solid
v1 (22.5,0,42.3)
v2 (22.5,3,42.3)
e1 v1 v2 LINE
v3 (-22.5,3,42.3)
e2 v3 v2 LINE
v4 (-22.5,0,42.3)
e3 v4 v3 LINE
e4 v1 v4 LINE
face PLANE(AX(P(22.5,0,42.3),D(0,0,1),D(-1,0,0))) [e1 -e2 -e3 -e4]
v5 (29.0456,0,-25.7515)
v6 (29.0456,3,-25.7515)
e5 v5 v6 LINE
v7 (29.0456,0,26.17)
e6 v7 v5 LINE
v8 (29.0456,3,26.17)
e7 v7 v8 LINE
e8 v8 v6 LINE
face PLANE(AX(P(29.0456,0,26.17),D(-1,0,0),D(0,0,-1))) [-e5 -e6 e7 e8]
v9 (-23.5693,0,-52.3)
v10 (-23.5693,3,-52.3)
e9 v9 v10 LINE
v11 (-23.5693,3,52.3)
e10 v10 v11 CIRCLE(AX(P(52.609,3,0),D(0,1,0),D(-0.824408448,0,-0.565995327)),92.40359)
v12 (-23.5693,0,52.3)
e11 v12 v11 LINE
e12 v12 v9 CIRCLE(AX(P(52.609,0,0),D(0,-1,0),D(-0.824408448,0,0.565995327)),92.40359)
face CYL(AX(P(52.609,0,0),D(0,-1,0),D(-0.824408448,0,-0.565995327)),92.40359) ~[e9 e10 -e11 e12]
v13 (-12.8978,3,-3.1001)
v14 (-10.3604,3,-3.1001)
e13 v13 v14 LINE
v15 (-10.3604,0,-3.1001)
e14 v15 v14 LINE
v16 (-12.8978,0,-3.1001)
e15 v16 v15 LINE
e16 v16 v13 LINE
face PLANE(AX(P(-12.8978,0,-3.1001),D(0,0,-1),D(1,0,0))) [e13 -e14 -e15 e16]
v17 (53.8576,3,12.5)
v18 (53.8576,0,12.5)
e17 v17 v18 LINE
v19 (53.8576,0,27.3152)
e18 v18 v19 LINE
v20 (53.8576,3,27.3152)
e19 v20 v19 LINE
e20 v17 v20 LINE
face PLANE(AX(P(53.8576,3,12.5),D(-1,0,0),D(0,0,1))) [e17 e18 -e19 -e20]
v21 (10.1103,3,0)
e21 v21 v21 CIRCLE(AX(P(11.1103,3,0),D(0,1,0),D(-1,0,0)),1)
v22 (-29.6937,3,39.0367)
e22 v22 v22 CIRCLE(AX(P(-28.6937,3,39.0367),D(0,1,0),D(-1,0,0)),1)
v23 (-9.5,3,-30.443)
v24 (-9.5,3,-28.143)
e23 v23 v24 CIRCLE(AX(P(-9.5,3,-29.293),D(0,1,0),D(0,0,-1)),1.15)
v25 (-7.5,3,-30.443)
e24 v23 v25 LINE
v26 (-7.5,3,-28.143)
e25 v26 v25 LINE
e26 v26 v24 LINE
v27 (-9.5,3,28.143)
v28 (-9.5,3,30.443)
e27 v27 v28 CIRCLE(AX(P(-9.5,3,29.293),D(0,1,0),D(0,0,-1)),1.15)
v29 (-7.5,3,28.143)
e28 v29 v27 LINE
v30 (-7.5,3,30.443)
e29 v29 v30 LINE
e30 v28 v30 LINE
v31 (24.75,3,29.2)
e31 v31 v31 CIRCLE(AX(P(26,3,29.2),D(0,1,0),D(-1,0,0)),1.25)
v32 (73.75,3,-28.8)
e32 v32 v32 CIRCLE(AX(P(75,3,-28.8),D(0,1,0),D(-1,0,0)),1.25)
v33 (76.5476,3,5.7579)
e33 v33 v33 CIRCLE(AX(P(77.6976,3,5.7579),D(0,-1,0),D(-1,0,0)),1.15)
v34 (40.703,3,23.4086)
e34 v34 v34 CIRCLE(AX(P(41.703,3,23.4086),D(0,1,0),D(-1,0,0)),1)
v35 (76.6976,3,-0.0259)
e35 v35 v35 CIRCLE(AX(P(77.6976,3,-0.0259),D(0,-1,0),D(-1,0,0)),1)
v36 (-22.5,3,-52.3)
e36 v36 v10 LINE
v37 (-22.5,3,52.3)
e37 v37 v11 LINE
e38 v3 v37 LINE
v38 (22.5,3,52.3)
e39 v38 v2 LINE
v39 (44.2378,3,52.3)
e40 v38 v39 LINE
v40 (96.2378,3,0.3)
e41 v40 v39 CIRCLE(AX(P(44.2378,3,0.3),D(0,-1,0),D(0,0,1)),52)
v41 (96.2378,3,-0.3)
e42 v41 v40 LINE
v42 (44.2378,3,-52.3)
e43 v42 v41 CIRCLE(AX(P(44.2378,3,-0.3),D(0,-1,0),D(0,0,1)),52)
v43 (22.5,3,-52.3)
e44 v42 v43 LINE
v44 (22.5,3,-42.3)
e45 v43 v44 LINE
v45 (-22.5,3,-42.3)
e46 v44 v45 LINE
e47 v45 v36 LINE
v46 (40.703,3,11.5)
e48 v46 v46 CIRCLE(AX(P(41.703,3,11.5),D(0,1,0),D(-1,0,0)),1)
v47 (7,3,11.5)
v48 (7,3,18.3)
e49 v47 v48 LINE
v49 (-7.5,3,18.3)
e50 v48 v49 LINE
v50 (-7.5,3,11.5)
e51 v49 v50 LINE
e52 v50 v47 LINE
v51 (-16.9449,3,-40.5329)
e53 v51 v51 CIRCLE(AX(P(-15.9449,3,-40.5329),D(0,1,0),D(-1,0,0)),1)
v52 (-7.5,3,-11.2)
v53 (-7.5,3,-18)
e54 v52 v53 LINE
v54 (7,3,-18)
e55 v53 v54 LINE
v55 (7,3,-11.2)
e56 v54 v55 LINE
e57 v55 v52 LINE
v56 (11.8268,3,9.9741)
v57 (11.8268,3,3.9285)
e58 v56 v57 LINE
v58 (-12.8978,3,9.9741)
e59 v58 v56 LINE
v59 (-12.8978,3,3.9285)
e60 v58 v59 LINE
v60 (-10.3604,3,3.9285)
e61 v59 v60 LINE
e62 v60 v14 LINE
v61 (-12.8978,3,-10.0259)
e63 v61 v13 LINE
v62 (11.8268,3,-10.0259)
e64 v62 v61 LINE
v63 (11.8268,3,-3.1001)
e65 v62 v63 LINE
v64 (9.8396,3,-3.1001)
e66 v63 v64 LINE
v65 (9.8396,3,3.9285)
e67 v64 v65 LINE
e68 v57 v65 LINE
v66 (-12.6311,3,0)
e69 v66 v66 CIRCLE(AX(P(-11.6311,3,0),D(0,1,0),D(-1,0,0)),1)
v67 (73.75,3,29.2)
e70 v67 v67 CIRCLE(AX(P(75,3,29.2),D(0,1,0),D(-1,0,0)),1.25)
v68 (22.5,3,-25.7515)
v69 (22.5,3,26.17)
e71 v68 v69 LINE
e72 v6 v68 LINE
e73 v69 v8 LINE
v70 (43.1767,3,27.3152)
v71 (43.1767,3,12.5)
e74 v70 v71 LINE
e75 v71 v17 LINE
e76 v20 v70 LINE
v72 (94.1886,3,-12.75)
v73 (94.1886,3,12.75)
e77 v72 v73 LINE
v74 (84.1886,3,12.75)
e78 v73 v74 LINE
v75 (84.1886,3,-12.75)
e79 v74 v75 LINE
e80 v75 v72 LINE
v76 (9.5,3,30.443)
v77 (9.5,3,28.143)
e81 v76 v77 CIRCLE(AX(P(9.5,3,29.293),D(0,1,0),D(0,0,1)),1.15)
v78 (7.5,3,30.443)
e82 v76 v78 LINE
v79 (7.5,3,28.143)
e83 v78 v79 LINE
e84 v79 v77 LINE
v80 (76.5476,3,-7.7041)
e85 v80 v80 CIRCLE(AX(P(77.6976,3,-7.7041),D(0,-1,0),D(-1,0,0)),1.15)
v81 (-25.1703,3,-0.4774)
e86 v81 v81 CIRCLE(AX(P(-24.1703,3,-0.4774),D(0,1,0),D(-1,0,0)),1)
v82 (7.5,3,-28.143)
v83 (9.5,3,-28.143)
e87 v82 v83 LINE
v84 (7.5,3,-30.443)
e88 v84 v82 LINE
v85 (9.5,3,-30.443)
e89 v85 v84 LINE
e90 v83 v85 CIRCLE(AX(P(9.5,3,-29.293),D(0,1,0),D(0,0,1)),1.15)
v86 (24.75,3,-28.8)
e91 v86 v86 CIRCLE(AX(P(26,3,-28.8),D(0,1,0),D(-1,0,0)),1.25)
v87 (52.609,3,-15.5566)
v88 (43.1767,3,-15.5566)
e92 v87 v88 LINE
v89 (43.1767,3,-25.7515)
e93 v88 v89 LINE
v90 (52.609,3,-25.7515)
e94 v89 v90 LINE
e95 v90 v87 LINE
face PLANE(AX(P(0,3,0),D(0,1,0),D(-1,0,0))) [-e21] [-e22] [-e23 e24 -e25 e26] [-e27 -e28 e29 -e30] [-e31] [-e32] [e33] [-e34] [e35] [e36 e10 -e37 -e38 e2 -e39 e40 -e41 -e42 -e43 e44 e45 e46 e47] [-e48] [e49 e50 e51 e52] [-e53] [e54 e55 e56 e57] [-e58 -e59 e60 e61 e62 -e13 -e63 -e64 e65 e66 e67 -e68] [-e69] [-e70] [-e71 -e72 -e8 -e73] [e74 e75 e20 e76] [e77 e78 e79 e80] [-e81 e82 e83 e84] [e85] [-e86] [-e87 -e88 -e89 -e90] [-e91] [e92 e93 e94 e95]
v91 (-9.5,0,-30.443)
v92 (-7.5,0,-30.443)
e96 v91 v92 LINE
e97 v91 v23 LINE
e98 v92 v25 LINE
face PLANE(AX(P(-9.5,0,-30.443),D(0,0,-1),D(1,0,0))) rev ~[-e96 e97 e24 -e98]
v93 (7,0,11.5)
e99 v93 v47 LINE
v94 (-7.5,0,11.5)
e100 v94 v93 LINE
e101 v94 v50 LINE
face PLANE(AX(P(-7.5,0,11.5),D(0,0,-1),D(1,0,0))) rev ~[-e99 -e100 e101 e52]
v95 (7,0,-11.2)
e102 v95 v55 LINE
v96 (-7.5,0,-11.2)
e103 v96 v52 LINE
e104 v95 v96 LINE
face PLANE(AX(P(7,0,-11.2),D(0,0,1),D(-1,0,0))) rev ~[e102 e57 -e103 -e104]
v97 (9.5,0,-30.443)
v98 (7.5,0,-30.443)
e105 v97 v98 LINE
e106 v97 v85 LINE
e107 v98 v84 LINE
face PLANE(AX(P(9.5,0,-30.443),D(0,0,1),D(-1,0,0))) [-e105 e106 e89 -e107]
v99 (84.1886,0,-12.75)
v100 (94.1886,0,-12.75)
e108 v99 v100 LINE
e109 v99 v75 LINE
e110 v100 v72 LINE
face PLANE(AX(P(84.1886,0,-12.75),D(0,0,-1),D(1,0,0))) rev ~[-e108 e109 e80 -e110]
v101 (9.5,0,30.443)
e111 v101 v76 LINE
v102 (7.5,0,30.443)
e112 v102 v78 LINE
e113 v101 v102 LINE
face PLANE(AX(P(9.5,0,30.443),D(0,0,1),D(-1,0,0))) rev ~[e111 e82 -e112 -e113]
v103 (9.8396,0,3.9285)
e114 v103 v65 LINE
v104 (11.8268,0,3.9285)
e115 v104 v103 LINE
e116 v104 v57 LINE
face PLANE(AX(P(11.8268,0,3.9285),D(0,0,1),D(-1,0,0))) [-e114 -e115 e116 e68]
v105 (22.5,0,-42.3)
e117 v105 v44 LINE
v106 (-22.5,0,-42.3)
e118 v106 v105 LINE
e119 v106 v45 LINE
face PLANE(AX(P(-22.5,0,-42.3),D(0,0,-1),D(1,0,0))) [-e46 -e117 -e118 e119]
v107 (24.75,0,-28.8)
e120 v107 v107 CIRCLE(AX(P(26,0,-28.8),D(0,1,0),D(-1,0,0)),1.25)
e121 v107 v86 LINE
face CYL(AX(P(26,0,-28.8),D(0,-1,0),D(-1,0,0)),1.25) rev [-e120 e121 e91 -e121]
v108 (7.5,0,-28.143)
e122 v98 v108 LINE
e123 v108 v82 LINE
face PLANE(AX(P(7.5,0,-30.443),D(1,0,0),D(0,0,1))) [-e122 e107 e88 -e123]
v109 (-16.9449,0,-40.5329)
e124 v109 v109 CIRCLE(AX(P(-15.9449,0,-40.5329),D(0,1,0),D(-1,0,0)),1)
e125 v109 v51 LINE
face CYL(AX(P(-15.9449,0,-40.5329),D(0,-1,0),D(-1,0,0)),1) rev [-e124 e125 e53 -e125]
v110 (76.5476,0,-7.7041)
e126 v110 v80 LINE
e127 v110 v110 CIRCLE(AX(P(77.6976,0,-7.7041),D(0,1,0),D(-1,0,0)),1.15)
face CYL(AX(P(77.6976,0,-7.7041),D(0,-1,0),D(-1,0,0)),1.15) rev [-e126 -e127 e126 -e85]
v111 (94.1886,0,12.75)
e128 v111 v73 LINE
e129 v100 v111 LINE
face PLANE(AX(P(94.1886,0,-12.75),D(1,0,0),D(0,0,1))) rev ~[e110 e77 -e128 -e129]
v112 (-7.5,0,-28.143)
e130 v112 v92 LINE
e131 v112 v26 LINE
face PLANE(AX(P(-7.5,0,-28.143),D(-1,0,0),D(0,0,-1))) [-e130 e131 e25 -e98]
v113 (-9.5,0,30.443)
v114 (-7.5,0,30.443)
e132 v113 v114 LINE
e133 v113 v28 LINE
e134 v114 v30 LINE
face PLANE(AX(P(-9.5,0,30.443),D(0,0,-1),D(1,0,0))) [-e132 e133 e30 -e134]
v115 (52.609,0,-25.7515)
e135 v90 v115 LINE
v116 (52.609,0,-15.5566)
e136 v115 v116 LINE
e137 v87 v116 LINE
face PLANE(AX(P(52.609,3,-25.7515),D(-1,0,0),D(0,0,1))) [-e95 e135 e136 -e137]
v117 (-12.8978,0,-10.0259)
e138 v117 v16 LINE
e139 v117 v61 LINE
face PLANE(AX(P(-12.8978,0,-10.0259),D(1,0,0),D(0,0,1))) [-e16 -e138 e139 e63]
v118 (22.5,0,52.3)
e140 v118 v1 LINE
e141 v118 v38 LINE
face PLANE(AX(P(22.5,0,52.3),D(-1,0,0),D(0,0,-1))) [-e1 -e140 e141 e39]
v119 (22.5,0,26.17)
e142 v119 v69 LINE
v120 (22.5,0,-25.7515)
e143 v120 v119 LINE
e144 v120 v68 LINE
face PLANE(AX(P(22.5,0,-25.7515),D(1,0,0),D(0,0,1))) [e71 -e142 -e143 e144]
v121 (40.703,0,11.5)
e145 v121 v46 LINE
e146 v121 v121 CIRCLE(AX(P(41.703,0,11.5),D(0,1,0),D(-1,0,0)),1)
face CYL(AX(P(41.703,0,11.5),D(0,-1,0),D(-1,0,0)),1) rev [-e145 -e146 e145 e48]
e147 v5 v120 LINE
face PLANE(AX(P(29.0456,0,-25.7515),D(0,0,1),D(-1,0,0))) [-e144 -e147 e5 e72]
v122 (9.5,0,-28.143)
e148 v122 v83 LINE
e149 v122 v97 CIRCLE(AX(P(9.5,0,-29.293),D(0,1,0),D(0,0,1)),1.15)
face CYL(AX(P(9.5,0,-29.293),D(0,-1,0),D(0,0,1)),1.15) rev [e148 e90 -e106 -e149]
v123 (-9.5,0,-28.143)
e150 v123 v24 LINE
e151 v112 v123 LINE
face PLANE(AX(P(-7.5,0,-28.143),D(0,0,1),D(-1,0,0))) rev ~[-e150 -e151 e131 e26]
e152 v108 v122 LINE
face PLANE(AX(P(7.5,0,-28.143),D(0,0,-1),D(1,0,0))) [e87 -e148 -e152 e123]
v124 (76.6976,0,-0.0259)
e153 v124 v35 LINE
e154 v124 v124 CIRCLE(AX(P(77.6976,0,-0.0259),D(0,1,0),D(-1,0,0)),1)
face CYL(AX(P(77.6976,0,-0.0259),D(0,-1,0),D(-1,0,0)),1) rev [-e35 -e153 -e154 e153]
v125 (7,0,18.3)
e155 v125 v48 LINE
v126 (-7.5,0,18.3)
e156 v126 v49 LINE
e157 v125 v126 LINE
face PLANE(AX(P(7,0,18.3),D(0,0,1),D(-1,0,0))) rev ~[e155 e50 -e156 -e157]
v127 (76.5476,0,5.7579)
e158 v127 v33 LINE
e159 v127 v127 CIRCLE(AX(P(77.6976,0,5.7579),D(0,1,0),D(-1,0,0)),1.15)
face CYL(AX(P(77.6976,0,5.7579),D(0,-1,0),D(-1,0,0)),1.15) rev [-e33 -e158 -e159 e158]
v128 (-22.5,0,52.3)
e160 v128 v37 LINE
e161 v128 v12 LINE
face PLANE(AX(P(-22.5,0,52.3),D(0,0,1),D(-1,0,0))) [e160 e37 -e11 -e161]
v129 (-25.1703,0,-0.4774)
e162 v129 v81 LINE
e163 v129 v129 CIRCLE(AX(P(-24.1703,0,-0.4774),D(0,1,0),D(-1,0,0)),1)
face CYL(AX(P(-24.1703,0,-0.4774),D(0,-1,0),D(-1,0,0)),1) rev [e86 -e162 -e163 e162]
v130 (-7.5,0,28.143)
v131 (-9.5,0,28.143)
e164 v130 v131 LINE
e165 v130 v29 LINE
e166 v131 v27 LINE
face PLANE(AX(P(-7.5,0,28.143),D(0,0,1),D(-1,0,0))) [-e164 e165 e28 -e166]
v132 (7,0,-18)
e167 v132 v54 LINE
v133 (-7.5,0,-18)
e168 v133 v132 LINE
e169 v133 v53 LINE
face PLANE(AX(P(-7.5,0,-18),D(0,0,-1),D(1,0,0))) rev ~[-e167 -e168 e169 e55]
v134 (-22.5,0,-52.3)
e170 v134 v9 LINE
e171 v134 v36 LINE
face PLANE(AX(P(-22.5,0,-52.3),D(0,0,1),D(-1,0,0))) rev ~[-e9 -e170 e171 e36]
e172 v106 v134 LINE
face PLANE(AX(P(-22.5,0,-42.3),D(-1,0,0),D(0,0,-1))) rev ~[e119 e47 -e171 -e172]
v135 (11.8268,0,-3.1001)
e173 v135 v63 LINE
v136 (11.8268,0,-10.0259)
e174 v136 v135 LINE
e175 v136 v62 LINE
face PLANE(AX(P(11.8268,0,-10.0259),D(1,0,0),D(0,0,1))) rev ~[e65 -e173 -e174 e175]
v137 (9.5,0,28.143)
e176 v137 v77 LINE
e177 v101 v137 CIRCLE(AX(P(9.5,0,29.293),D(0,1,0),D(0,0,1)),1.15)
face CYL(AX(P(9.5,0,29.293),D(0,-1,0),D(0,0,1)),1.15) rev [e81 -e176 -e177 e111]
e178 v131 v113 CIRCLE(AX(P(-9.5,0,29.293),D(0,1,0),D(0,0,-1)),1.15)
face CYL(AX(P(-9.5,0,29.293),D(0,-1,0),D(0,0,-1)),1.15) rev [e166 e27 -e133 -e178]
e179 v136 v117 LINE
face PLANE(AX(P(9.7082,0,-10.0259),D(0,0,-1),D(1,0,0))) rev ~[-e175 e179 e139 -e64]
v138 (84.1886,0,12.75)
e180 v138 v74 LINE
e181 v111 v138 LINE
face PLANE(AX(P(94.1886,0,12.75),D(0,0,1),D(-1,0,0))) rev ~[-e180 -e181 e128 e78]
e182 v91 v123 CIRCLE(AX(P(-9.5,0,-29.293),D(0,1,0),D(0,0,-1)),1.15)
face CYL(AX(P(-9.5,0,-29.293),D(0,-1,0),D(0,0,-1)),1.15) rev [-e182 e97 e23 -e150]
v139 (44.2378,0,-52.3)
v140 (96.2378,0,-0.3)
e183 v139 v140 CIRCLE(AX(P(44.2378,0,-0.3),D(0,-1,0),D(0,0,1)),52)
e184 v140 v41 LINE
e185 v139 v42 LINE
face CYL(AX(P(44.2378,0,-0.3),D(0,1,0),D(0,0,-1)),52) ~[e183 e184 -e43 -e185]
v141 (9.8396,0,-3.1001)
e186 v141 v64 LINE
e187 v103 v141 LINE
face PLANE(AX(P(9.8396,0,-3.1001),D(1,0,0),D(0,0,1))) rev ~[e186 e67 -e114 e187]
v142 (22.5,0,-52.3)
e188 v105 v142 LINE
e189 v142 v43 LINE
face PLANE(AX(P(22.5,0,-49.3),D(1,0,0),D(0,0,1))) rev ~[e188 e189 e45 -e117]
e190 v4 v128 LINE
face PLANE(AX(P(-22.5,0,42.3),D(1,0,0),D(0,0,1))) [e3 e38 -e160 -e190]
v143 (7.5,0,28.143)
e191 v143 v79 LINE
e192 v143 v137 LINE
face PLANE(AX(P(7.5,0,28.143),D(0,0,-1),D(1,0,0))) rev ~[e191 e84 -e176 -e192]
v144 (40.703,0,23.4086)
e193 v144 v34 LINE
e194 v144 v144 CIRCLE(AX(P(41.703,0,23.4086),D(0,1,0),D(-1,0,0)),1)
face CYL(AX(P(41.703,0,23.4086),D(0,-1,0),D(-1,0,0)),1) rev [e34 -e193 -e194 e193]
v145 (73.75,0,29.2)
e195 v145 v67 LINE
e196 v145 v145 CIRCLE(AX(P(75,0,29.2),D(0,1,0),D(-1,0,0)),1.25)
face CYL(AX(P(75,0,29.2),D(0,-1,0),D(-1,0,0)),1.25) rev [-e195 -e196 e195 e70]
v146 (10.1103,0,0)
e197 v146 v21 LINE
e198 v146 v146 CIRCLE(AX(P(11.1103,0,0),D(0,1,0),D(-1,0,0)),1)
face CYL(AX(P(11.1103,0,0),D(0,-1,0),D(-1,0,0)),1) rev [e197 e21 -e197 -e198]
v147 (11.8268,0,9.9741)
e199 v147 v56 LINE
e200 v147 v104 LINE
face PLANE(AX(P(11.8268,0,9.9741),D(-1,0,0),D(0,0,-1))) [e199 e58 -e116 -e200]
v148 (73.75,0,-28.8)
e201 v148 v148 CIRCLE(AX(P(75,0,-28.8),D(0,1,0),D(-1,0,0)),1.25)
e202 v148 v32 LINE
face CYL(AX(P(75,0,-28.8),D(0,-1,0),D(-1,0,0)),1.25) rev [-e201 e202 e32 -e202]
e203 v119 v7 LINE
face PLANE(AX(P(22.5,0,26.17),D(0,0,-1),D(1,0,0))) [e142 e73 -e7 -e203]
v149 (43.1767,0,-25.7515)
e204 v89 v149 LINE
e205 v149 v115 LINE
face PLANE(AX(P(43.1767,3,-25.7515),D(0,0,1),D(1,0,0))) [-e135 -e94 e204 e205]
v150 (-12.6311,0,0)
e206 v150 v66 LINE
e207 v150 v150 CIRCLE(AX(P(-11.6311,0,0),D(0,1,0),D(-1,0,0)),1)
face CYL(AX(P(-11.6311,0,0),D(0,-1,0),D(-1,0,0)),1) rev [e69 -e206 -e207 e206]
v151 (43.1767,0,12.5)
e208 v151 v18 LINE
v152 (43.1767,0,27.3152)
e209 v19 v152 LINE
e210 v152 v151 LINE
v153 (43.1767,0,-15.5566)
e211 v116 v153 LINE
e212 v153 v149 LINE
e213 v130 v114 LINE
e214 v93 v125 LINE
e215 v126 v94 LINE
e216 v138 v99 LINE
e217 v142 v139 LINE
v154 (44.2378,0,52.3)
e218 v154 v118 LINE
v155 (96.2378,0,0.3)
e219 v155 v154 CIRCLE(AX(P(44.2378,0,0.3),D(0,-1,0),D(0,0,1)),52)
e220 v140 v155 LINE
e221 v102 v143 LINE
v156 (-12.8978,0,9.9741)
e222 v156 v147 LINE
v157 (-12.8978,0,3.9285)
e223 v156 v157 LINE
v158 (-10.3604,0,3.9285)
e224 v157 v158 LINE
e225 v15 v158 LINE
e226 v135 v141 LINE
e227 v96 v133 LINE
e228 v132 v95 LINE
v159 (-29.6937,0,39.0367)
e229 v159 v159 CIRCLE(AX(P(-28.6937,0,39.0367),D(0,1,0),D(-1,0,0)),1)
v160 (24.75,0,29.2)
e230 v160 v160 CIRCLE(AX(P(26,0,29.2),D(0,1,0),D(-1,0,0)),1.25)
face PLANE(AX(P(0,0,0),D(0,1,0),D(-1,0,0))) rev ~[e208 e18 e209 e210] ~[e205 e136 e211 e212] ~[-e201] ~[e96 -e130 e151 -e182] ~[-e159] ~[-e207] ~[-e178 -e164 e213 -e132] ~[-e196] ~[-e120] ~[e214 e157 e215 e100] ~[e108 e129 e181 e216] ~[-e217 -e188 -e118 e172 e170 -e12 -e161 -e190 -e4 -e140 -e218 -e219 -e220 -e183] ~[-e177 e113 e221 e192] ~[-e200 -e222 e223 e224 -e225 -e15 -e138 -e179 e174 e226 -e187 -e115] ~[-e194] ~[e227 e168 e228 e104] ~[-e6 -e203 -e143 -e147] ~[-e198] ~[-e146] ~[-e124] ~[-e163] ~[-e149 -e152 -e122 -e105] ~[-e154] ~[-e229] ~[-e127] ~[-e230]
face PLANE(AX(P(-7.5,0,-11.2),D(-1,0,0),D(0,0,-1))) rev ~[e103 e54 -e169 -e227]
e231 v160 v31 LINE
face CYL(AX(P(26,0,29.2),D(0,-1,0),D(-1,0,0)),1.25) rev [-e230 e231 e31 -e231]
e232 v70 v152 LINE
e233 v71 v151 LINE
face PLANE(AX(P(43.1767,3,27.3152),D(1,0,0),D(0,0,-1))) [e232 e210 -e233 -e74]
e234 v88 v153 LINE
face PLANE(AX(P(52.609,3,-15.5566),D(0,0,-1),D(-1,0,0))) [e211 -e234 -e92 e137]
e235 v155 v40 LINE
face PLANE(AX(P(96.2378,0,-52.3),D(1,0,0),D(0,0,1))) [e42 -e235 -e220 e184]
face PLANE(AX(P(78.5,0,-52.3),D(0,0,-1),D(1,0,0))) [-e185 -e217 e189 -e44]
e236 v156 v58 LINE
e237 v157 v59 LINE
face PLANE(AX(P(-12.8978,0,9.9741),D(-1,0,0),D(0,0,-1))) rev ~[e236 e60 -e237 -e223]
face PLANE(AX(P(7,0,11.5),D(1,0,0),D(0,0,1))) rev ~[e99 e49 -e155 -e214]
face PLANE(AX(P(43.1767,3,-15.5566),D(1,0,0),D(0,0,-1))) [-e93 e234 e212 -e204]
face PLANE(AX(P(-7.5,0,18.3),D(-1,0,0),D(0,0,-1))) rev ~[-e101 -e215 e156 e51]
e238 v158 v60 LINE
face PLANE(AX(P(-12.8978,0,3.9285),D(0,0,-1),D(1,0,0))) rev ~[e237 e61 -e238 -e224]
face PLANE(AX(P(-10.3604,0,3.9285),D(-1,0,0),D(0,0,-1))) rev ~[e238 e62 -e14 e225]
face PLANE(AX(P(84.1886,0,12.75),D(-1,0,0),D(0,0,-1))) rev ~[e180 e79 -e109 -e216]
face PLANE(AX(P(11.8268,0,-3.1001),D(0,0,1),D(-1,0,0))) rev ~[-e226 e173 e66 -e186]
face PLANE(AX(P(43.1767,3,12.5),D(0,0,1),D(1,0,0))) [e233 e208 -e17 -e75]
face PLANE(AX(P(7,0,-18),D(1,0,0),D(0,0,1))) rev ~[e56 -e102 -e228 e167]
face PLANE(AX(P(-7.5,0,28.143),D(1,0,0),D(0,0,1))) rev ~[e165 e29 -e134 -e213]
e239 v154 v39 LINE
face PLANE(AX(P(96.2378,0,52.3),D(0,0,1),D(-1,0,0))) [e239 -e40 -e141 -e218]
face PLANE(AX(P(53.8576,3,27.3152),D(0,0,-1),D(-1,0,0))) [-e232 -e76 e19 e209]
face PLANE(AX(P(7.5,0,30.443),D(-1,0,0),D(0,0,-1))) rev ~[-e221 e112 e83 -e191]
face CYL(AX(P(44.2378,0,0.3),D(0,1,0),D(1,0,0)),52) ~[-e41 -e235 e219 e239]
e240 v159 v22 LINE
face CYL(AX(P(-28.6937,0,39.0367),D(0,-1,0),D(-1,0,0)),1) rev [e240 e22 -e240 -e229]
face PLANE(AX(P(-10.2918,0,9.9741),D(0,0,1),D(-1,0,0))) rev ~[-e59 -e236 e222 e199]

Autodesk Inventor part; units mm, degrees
ref_plane "YZ Plane" through (0, 0, 0) normal (1, 0, 0) x (0, 1, 0)
ref_plane "XZ Plane" through (0, 0, 0) normal (0, 1, 0) x (-1, 0, 0)
ref_plane "XY Plane" through (0, 0, 0) normal (0, 0, 1) x (1, 0, 0)
sketch "Boceto2" plane through (0, 0, 0) normal (0, 1, 0) x (-1, 0, 0)
  line L0 (-78.5, 29.7) -> (-78.5, -49.3)
  line L1 (-75.5, -52.3) -> (-25.5, -52.3)
  line L2 (-22.5, -49.3) -> (-22.5, 29.7)
  line L3 (-25.5, 32.7) -> (-75.5, 32.7)
  circle A0 centre (-75, -28.8) radius 1.25
  line L4 (0, 6.809) -> (0, -6.809)
  line L5 (10.65, 0) -> (-10.65, 0) construction
  circle A1 centre (-26, -28.8) radius 1.25
  circle A2 centre (-75, 29.2) radius 1.25
  circle A3 centre (-26, 29.2) radius 1.25
  line L6 (7.5, -42.3) -> (-7, -42.3)
  line L7 (-7, -42.3) -> (-7, -25)
  line L8 (-7, -25) -> (7.5, -25)
  line L9 (7.5, -25) -> (7.5, -42.3)
  arc A4 (9.0958, -33.5419) -> (9.0958, -25.0441) centre (9, -29.293) ccw
  line L10 (9.0958, -33.5419) -> (7.5, -42.3)
  line L11 (9.0958, -25.0441) -> (7.5, -25.0441)
  arc A5 (9.5, -30.443) -> (9.5, -28.143) centre (9.5, -29.293) ccw
  line L12 (9.5, -30.443) -> (7.5, -30.443)
  line L13 (7.5, -30.443) -> (7.5, -28.143)
  line L14 (7.5, -28.143) -> (9.5, -28.143)
  line L15 (9.5, -28.143) -> (9.5, -30.443)
  arc A6 (-9.0958, -25.0441) -> (-9.0958, -33.5419) centre (-9, -29.293) ccw
  line L16 (-9.0958, -33.5419) -> (-7, -42.3)
  line L17 (-9.0958, -25.0441) -> (-7.5, -25.0441)
  arc A7 (-9.5, -28.143) -> (-9.5, -30.443) centre (-9.5, -29.293) ccw
  line L18 (-9.5, -30.443) -> (-7.5, -30.443)
  line L19 (-7.5, -30.443) -> (-7.5, -28.143)
  line L20 (-7.5, -28.143) -> (-9.5, -28.143)
  line L21 (-9.5, -28.143) -> (-9.5, -30.443)
  line L22 (7.5, 42.3) -> (-7, 42.3)
  line L23 (-7, 42.3) -> (-7, 25)
  line L24 (-7, 25) -> (7.5, 25)
  line L25 (7.5, 25) -> (7.5, 42.3)
  arc A8 (9.0958, 25.0441) -> (9.0958, 33.5419) centre (9, 29.293) ccw
  line L26 (9.0958, 33.5419) -> (7.5, 42.3)
  line L27 (9.0958, 25.0441) -> (7.5, 25.0441)
  arc A9 (9.5, 28.143) -> (9.5, 30.443) centre (9.5, 29.293) ccw
  line L28 (9.5, 30.443) -> (7.5, 30.443)
  line L29 (7.5, 30.443) -> (7.5, 28.143)
  line L30 (7.5, 28.143) -> (9.5, 28.143)
  line L31 (9.5, 28.143) -> (9.5, 30.443)
  line L32 (-9.0958, 25.0441) -> (-7.5, 25.0441)
  line L33 (-7.5, 28.143) -> (-9.5, 28.143)
  line L34 (-7.5, 30.443) -> (-7.5, 28.143)
  line L35 (-9.5, 28.143) -> (-9.5, 30.443)
  line L36 (-9.5, 30.443) -> (-7.5, 30.443)
  arc A10 (-9.5, 30.443) -> (-9.5, 28.143) centre (-9.5, 29.293) ccw
  line L37 (-9.0958, 33.5419) -> (-7, 42.3)
  arc A11 (-9.0958, 33.5419) -> (-9.0958, 25.0441) centre (-9, 29.293) ccw
  line L38 (10.3604, -4.25) -> (-9.8396, -4.25)
  line L39 (-9.8396, -4.25) -> (-9.8396, 4.25)
  line L40 (-9.8396, 4.25) -> (10.3604, 4.25)
  line L41 (10.3604, 4.25) -> (10.3604, -4.25)
  line L42 (35.3604, -42.3) -> (-82.3941, -42.3)
  line L43 (-82.3941, -42.3) -> (-82.3941, 42.3)
  line L44 (-82.3941, 42.3) -> (35.3604, 42.3)
  line L45 (35.3604, 42.3) -> (35.3604, -42.3)
  line L46 (-84.1886, -12.75) -> (-94.1886, -12.75)
  line L47 (-94.1886, -12.75) -> (-94.1886, 12.75)
  line L48 (-94.1886, 12.75) -> (-84.1886, 12.75)
  line L49 (-84.1886, 12.75) -> (-84.1886, -12.75)
  line L50 (22.5, 52.3) -> (-22.5, 52.3)
  line L51 (-22.5, 52.3) -> (-22.5, 42.3)
  line L52 (-22.5, 42.3) -> (22.5, 42.3)
  line L53 (22.5, 42.3) -> (22.5, 52.3)
  line L54 (22.5, -52.3) -> (-22.5, -52.3)
  line L55 (-22.5, -52.3) -> (-22.5, -42.3)
  line L56 (-22.5, -42.3) -> (22.5, -42.3)
  line L57 (22.5, -42.3) -> (22.5, -52.3)
  line L58 (22.5, 52.3) -> (23.5693, 52.3)
  line L59 (-22.5, 52.3) -> (-44.8693, 52.3)
  line L60 (22.5, -52.3) -> (23.5693, -52.3)
  line L61 (-22.5, -52.3) -> (-44.8693, -52.3)
  circle A12 centre (-77.6976, 5.7579) radius 1.15
  circle A13 centre (-77.6976, -7.7041) radius 1.15
  arc A14 (23.5693, -52.3) -> (23.5693, 52.3) centre (-52.609, 0) ccw
  line L62 (7.5, -18) -> (-7, -18)
  line L63 (-7, -18) -> (-7, -11.2)
  line L64 (-7, -11.2) -> (7.5, -11.2)
  line L65 (7.5, -11.2) -> (7.5, -18)
  line L66 (7.5, 11.5) -> (-7, 11.5)
  line L67 (-7, 11.5) -> (-7, 18.3)
  line L68 (-7, 18.3) -> (7.5, 18.3)
  line L69 (7.5, 18.3) -> (7.5, 11.5)
  circle A15 centre (24.1703, -0.4774) radius 1
  circle A16 centre (11.6311, 0) radius 1
  circle A17 centre (-11.1103, 0) radius 1
  arc A18 (-22.5, 29.7) -> (-25.5, 32.7) centre (-25.5, 29.7) ccw
  arc A19 (-25.5, -52.3) -> (-22.5, -49.3) centre (-25.5, -49.3) ccw
  arc A20 (-78.5, -49.3) -> (-75.5, -52.3) centre (-75.5, -49.3) ccw
  arc A21 (-75.5, 32.7) -> (-78.5, 29.7) centre (-75.5, 29.7) ccw
  line L70 (-22.5, 26.17) -> (-29.0456, 26.17)
  line L71 (-29.0456, 26.17) -> (-29.0456, -25.7515)
  line L72 (-29.0456, -25.7515) -> (-22.5, -25.7515)
  line L73 (-22.5, -25.7515) -> (-22.5, 26.17)
  line L74 (34.1703, -37.9774) -> (14.1703, -37.9774) construction
  line L75 (14.1703, -37.9774) -> (14.1703, 37.0226) construction
  line L76 (14.1703, 37.0226) -> (34.1703, 37.0226) construction
  line L77 (34.1703, 37.0226) -> (34.1703, -37.9774) construction
  circle A22 centre (28.6937, 39.0367) radius 1
  circle A23 centre (15.9449, -40.5329) radius 1
  circle A24 centre (-41.703, 23.4086) radius 1
  circle A25 centre (-41.703, 11.5) radius 1
  line L78 (-9.7082, -10.0259) -> (10.2918, -10.0259)
  line L79 (10.2918, -10.0259) -> (10.2918, 9.9741)
  line L80 (10.2918, 9.9741) -> (-9.7082, 9.9741)
  line L81 (-9.7082, 9.9741) -> (-9.7082, -10.0259)
  circle A26 centre (-77.6976, -0.0259) radius 1
  line L82 (23.5693, -52.3) -> (-96.2378, -52.3)
  line L83 (-96.2378, -52.3) -> (-96.2378, 52.3)
  line L84 (-96.2378, 52.3) -> (23.5693, 52.3)
  line L85 (55.9366, 25.0441) -> (55.9366, 25)
  line L86 (-22.5, -31.0038) -> (-78.5, -31.0038)
  line L87 (-78.5, -31.0038) -> (-78.5, -52.3)
  line L88 (-78.5, -52.3) -> (-22.5, -52.3)
  line L89 (-22.5, -52.3) -> (-22.5, -31.0038)
  line L90 (10.2918, -10.0259) -> (12.8978, -10.0259)
  line L91 (12.8978, -10.0259) -> (12.8978, -3.1001)
  line L92 (12.8978, -3.1001) -> (10.2918, -3.1001)
  line L93 (10.2918, -3.1001) -> (10.2918, -10.0259)
  line L94 (10.2918, 9.9741) -> (12.8978, 9.9741)
  line L95 (12.8978, 9.9741) -> (12.8978, 3.9285)
  line L96 (12.8978, 3.9285) -> (10.2918, 3.9285)
  line L97 (10.2918, 3.9285) -> (10.2918, 9.9741)
  line L98 (-9.7082, -10.0259) -> (-11.8268, -10.0259)
  line L99 (-11.8268, -10.0259) -> (-11.8268, -3.1001)
  line L100 (-11.8268, -3.1001) -> (-9.7082, -3.1001)
  line L101 (-9.7082, -3.1001) -> (-9.7082, -10.0259)
  line L102 (-9.7082, 9.9741) -> (-11.8268, 9.9741)
  line L103 (-11.8268, 9.9741) -> (-11.8268, 3.9285)
  line L104 (-11.8268, 3.9285) -> (-9.7082, 3.9285)
  line L105 (-9.7082, 3.9285) -> (-9.7082, 9.9741)
  point P0 (0, 0)
  point P1 (-22.5, -52.3)
  point P2 (-22.5, 32.7)
  point P3 (-22.5, -9.8)
  point P4 (0, 0)
  point P5 (13.25, -29.293)
  point P6 (10.65, -29.293)
  point P7 (-13.25, -29.293)
  point P8 (-10.65, -29.293)
  point P9 (13.25, 29.293)
  point P10 (10.65, 29.293)
  point P11 (-10.65, 29.293)
  point P12 (-13.25, 29.293)
  point P13 (-16, 0)
  point P14 (10.3604, 0)
  point P15 (-84.1886, 0)
  point P16 (-7.5, 36.9)
  point P17 (-7.5, 39.2)
  point P18 (-7.5, -39.2)
  point P19 (-7.5, -36.9)
  point P20 (7.5, -28.143)
  point P21 (7.5, -30.443)
  point P22 (-7, -42.3)
  point P23 (7.5, -42.3)
  point P24 (7.5, 42.3)
  point P25 (-7, 42.3)
  point P26 (0, 52.3)
  point P27 (-22.5, -42.3)
  point P28 (22.5, -42.3)
  point P29 (22.5, 42.3)
  point P30 (-22.5, -25.7515)
  point P31 (-7, 42.3)
  point P32 (-9.7082, 4.25)
  point P33 (10.2918, 4.25)
  point P34 (10.2918, -4.25)
  point P35 (-9.7082, -4.25)
  point P36 (-9.8396, -3.1001)
  point P37 (-9.8396, 3.9285)
  point P38 (10.3604, 3.9285)
  point P39 (10.3604, -3.1001)
  dimension "d52" = 85
  dimension "d53" = 56
  dimension "d56" = 3.5
  dimension "d60" = 49
  dimension "d63" = 58
  dimension "d78" = 14.5
  dimension "d79" = 17.3
  dimension "d81" = 1.5
  dimension "d82" = 4.25
  dimension "d83" = 1.15
  dimension "d84" = 2.3
  dimension "d86" = 2
  dimension "d88" = 7.5
  dimension "d92" = 20.2
  dimension "d93" = 8.5
  dimension "d94" = 10
  dimension "d95" = 25.5
  dimension "d108" = 10
  dimension "d113" = 45
  dimension "d114" = 13.462
  dimension "d116" = 2.3
  dimension "d119" = 2.3
  dimension "d127" = 25
  dimension "d134" = 42.3
  dimension "d135" = 1.5958
  dimension "d136" = 14.5
  dimension "d137" = 6.8
  dimension "d138" = 14.5
  dimension "d139" = 6.8
  dimension "d140" = 2
  dimension "d144" = 2
  dimension "d145" = 2
  dimension "d156" = 23
  dimension "d157" = 7
  dimension "d159" = 3
  dimension "d160" = 1.2707
  dimension "d161" = 1.2707
  dimension "d164" = 75
  dimension "d165" = 20
  dimension "d166" = 37.5
  dimension "d168" = 2
  dimension "d169" = 2
  dimension "d170" = 2
  dimension "d171" = 2
  dimension "d177" = 6.5457
  dimension "d179" = 51.9215
  dimension "d181" = 11.9086
  dimension "d182" = 20
  dimension "d183" = 20
  dimension "d387" = 2
  dimension "d421" = 1.7946
  dimension "d465" = 6.491
  dimension "d477" = 9.6
  dimension "d479" = 6.53
  dimension "d480" = 3.5
  dimension "d484" = 22.5
extrude "Extrusión4" add sketch "Boceto2" along normal blind 3 contours A21 L3 A18 L2 L70 L71 L72 L86 L0 A13 A26 A12 | L0 A12 A26 A13 L42 L43 L44 L23 L24 L25 L27 A8 L26 A14 L45 L10 A4 L11 L9 L8 L7 L2 A18 L3 A21 | L2 L42 L0 L86 | L2 A19 L1 A20 L0 L42 | L0 L87 L82 L83 L84 L59 L51 L44 L43 L42 | L55 L61 A19 | L7 L8 L9 L6 | A20 L82 L87 | L9 L12 A5 L14 L11 A4 L10 | L57 L42 A14 L60 | L22 L25 L24 L23 | L45 A14 | L26 A8 L27 L25 L30 A9 L28 | L58 A14 L44 L53 | L40 L39 L104 L103 L102 L81 | L79 L94 L95 L96 L41 L40 | L38 L41 L92 L91 L90 L79 | L81 L98 L99 L100 L39 L38
fillet "Empalme7" radius 52 2 edges at (96.2378, 1.5, -52.3) (96.2378, 1.5, 52.3)
sketch "Boceto3" plane through (0, 3, 0) normal (0, 1, 0) x (1, 0, 0)
  line L0 (20.8865, 32.3) -> (20.8865, -32.7)
  line L1 (20.8865, -32.7) -> (-14.1135, -32.7)
  line L2 (-14.1135, -32.7) -> (-14.1135, 32.3)
  line L3 (20.8865, 32.3) -> (-14.1135, 32.3)
  circle A0 centre (26, 28.8) radius 1.25 projected
  circle A1 centre (26, -29.2) radius 1.25 projected
  circle A2 centre (41.703, -11.5) radius 1 projected
  circle A3 centre (41.703, -23.4086) radius 1 projected
  circle A4 centre (-28.6937, -39.0367) radius 1 projected
  line L4 (29.0456, 25.7515) -> (29.0456, -26.17) projected
  line L5 (29.0456, -26.17) -> (22.5, -26.17) projected
  line L6 (22.5, -26.17) -> (22.5, 25.7515) projected
  line L7 (22.5, 25.7515) -> (29.0456, 25.7515) projected
  circle A5 centre (-15.9449, 40.5329) radius 1 projected
  circle A6 centre (-24.1703, 0.4774) radius 1 projected
  line L8 (22.5, 52.3) -> (22.5, 42.3) projected
  line L9 (22.5, 42.3) -> (-22.5, 42.3) projected
  line L10 (-22.5, 42.3) -> (-22.5, 52.3) projected
  arc A7 (-23.5693, 52.3) -> (-23.5693, -52.3) centre (52.609, 0) ccw projected
  line L11 (-22.5, -52.3) -> (-22.5, -42.3) projected
  line L12 (-22.5, -42.3) -> (22.5, -42.3) projected
  line L13 (22.5, -42.3) -> (22.5, -52.3) projected
  line L14 (-7.5, 11.2) -> (-7.5, 18) projected
  line L15 (-7.5, 18) -> (7, 18) projected
  line L16 (7, 18) -> (7, 11.2) projected
  line L17 (7, 11.2) -> (-7.5, 11.2) projected
  circle A8 centre (75, -29.2) radius 1.25 projected
  arc A9 (-9.5, 30.443) -> (-9.5, 28.143) centre (-9.5, 29.293) ccw projected
  line L18 (-9.5, 30.443) -> (-7.5, 30.443) projected
  line L19 (-7.5, 30.443) -> (-7.5, 28.143) projected
  line L20 (-7.5, 28.143) -> (-9.5, 28.143) projected
  line L21 (84.1886, -12.75) -> (84.1886, 12.75) projected
  line L22 (84.1886, 12.75) -> (94.1886, 12.75) projected
  line L23 (94.1886, 12.75) -> (94.1886, -12.75) projected
  line L24 (94.1886, -12.75) -> (84.1886, -12.75) projected
  circle A10 centre (77.6976, 7.7041) radius 1.15 projected
  line L25 (-7.5, -30.443) -> (-9.5, -30.443) projected
  arc A11 (-9.5, -28.143) -> (-9.5, -30.443) centre (-9.5, -29.293) ccw projected
  line L26 (-9.5, -28.143) -> (-7.5, -28.143) projected
  line L27 (-7.5, -28.143) -> (-7.5, -30.443) projected
  circle A12 centre (26, 28.8) radius 1.25 projected
  line L28 (-7.5, -18.3) -> (-7.5, -11.5) projected
  line L29 (-7.5, -11.5) -> (7, -11.5) projected
  line L30 (7, -11.5) -> (7, -18.3) projected
  line L31 (7, -18.3) -> (-7.5, -18.3) projected
  circle A13 centre (11.1103, 0) radius 1 projected
  circle A14 centre (26, -29.2) radius 1.25 projected
  line L32 (7.5, 30.443) -> (9.5, 30.443) projected
  arc A15 (9.5, 28.143) -> (9.5, 30.443) centre (9.5, 29.293) ccw projected
  line L33 (9.5, 28.143) -> (7.5, 28.143) projected
  line L34 (7.5, 28.143) -> (7.5, 30.443) projected
  circle A16 centre (77.6976, -5.7579) radius 1.15 projected
  arc A17 (9.5, -30.443) -> (9.5, -28.143) centre (9.5, -29.293) ccw projected
  line L35 (9.5, -30.443) -> (7.5, -30.443) projected
  line L36 (7.5, -30.443) -> (7.5, -28.143) projected
  line L37 (7.5, -28.143) -> (9.5, -28.143) projected
  circle A18 centre (75, 28.8) radius 1.25 projected
  line L38 (-10.3604, -4.25) -> (-10.3604, 4.25) projected
  line L39 (9.8396, 4.25) -> (9.8396, -4.25) projected
  circle A19 centre (-11.6311, 0) radius 1 projected
  line L40 (-15.606, -33.2472) -> (-15.606, 32.7528) construction
  line L41 (-15.606, 32.7528) -> (21.4726, 32.7528) construction
  line L42 (21.4726, 32.7528) -> (21.4726, -33.2472) construction
  line L43 (21.4726, -33.2472) -> (-15.606, -33.2472) construction
  line L44 (-9.0297, -25.5314) -> (9.3868, -25.5314)
  line L45 (9.3868, -25.5314) -> (9.3868, -22.2663)
  line L46 (9.3868, -22.2663) -> (-9.0297, -22.2663)
  line L47 (-9.0297, -22.2663) -> (-9.0297, -25.5314)
  line L48 (-9.0297, 20.6397) -> (7.7218, 20.6397)
  line L49 (7.7218, 20.6397) -> (7.7218, 24.3886)
  line L50 (7.7218, 24.3886) -> (-9.0297, 24.3886)
  line L51 (-9.0297, 24.3886) -> (-9.0297, 20.6397)
  line L52 (22.5, -26.17) -> (22.5, 25.7515) projected
  line L53 (9.3868, -32.0744) -> (22.5, -32.0744)
  line L54 (22.5, -32.0744) -> (22.5, -12.5)
  line L55 (22.5, -12.5) -> (9.3868, -12.5)
  line L56 (9.3868, -12.5) -> (9.3868, -32.0744)
  line L57 (-13.8057, -19.8238) -> (-9.4895, -19.8238)
  line L58 (-9.4895, -19.8238) -> (-9.4895, -4.6772)
  line L59 (-9.4895, -4.6772) -> (-13.8057, -4.6772)
  line L60 (-13.8057, -4.6772) -> (-13.8057, -19.8238)
  line L61 (-13.3666, 8.9365) -> (-9.4895, 8.9365)
  line L62 (-9.4895, 8.9365) -> (-9.4895, 15.1891)
  line L63 (-9.4895, 15.1891) -> (-13.3666, 15.1891)
  line L64 (-13.3666, 15.1891) -> (-13.3666, 8.9365)
  line L65 (-9.4895, -9.55) -> (10.9255, -9.55)
  line L66 (10.9255, -9.55) -> (10.9255, -6.55)
  line L67 (10.9255, -6.55) -> (-9.4895, -6.55)
  line L68 (-9.4895, -6.55) -> (-9.4895, -9.55)
  line L69 (-9.4895, 5.75) -> (10.9255, 5.75)
  line L70 (10.9255, 5.75) -> (10.9255, 8.75)
  line L71 (10.9255, 8.75) -> (-9.4895, 8.75)
  line L72 (-9.4895, 8.75) -> (-9.4895, 5.75)
  line L73 (9.3868, -12.5) -> (7.3247, -12.5)
  line L74 (7.3247, -12.5) -> (7.3247, -21.1057)
  line L75 (7.3247, -21.1057) -> (9.3868, -21.1057)
  line L76 (9.3868, -21.1057) -> (9.3868, -12.5)
  line L77 (52.609, 15.5566) -> (43.1767, 15.5566)
  line L78 (43.1767, 15.5566) -> (43.1767, 25.7515)
  line L79 (43.1767, 25.7515) -> (52.609, 25.7515)
  line L80 (52.609, 25.7515) -> (52.609, 15.5566)
  line L81 (53.8576, -27.3152) -> (43.1767, -27.3152)
  line L82 (43.1767, -27.3152) -> (43.1767, -12.5)
  line L83 (43.1767, -12.5) -> (53.8576, -12.5)
  line L84 (53.8576, -12.5) -> (53.8576, -27.3152)
  line L85 (94.1886, 12.75) -> (97.5693, 12.75)
  line L86 (94.1886, -12.75) -> (84.1886, -12.75) projected
  line L87 (94.1886, -12.75) -> (71.8357, -12.75)
  line L88 (-22.5, 52.3) -> (-23.5693, 52.3) projected
  line L89 (-23.5693, -52.3) -> (-22.5, -52.3) projected
  line L90 (22.5, -52.3) -> (44.2378, -52.3) projected
  line L91 (96.2378, -0.3) -> (96.2378, 0.3) projected
  line L92 (44.2378, 52.3) -> (22.5, 52.3) projected
  line L93 (9.8396, -4.25) -> (9.7082, -4.25) projected
  line L94 (9.7082, -4.25) -> (9.7082, -9.9741) projected
  line L95 (9.7082, -9.9741) -> (-10.2918, -9.9741) projected
  line L96 (-10.2918, -9.9741) -> (-10.2918, -4.25) projected
  line L97 (-10.2918, -4.25) -> (-10.3604, -4.25) projected
  line L98 (-10.3604, 4.25) -> (-10.2918, 4.25) projected
  line L99 (-10.2918, 4.25) -> (-10.2918, 10.0259) projected
  line L100 (-10.2918, 10.0259) -> (9.7082, 10.0259) projected
  line L101 (9.7082, 10.0259) -> (9.7082, 4.25) projected
  line L102 (9.7082, 4.25) -> (9.8396, 4.25) projected
  arc A20 (44.2378, -52.3) -> (96.2378, -0.3) centre (44.2378, -0.3) ccw projected
  arc A21 (96.2378, 0.3) -> (44.2378, 52.3) centre (44.2378, 0.3) ccw projected
  point P0 (0, 0)
  dimension "d184" = 35
  dimension "d185" = 65
  dimension "d186" = 3.5
  dimension "d187" = 3.5
  dimension "d188" = 6.8
  dimension "d189" = 6.6135
  dimension "d193" = 2.257
  dimension "d194" = 1.857
  dimension "d196" = 14.5
  dimension "d197" = 6.8
  dimension "d198" = 14.5
  dimension "d200" = 6.6135
  dimension "d202" = 14.4
  dimension "d203" = 13.8865
  dimension "d204" = 43.9
  dimension "d205" = 31.247
  dimension "d206" = 28.45
  dimension "d207" = 2
  dimension "d209" = 13.3865
  dimension "d210" = 13.3865
  dimension "d211" = 15
  dimension "d212" = 13.3865
  dimension "d213" = 28.3865
  dimension "d331" = 66
  dimension "d377" = 3
  dimension "d378" = 3
extrude "Extrusión13" cut sketch "Boceto3" against normal blind 3 contours L67 L94 L65 L58 | L67 L66 L65 L94 | L101 L69 L72 L71 | L71 L70 L69 L101 | L77 L78 L79 L80 | L81 L82 L83 L84
sketch "Boceto4" plane through (0, 3, 0) normal (0, 1, 0) x (1, 0, 0)
  line L0 (-15.3527, -32.737) -> (-15.3527, 32.8228) construction
  line L1 (-15.3527, 32.8228) -> (29.504, 32.8228) construction
  line L2 (29.504, 32.8228) -> (29.504, -32.737) construction
  line L3 (29.504, -32.737) -> (-15.3527, -32.737) construction
  point P0 (0, 0)
extrude "Extrusión15" cut sketch "Boceto2" along normal blind 3 contours L40 L39 L104 L103 L102 L81 | L79 L94 L95 L96 L41 L40 | L38 L41 L92 L91 L90 L79 | L81 L98 L99 L100 L39 L38
properties part number "Version Raspberry Pi 3 en adelante" material "Madera (nogal)"
